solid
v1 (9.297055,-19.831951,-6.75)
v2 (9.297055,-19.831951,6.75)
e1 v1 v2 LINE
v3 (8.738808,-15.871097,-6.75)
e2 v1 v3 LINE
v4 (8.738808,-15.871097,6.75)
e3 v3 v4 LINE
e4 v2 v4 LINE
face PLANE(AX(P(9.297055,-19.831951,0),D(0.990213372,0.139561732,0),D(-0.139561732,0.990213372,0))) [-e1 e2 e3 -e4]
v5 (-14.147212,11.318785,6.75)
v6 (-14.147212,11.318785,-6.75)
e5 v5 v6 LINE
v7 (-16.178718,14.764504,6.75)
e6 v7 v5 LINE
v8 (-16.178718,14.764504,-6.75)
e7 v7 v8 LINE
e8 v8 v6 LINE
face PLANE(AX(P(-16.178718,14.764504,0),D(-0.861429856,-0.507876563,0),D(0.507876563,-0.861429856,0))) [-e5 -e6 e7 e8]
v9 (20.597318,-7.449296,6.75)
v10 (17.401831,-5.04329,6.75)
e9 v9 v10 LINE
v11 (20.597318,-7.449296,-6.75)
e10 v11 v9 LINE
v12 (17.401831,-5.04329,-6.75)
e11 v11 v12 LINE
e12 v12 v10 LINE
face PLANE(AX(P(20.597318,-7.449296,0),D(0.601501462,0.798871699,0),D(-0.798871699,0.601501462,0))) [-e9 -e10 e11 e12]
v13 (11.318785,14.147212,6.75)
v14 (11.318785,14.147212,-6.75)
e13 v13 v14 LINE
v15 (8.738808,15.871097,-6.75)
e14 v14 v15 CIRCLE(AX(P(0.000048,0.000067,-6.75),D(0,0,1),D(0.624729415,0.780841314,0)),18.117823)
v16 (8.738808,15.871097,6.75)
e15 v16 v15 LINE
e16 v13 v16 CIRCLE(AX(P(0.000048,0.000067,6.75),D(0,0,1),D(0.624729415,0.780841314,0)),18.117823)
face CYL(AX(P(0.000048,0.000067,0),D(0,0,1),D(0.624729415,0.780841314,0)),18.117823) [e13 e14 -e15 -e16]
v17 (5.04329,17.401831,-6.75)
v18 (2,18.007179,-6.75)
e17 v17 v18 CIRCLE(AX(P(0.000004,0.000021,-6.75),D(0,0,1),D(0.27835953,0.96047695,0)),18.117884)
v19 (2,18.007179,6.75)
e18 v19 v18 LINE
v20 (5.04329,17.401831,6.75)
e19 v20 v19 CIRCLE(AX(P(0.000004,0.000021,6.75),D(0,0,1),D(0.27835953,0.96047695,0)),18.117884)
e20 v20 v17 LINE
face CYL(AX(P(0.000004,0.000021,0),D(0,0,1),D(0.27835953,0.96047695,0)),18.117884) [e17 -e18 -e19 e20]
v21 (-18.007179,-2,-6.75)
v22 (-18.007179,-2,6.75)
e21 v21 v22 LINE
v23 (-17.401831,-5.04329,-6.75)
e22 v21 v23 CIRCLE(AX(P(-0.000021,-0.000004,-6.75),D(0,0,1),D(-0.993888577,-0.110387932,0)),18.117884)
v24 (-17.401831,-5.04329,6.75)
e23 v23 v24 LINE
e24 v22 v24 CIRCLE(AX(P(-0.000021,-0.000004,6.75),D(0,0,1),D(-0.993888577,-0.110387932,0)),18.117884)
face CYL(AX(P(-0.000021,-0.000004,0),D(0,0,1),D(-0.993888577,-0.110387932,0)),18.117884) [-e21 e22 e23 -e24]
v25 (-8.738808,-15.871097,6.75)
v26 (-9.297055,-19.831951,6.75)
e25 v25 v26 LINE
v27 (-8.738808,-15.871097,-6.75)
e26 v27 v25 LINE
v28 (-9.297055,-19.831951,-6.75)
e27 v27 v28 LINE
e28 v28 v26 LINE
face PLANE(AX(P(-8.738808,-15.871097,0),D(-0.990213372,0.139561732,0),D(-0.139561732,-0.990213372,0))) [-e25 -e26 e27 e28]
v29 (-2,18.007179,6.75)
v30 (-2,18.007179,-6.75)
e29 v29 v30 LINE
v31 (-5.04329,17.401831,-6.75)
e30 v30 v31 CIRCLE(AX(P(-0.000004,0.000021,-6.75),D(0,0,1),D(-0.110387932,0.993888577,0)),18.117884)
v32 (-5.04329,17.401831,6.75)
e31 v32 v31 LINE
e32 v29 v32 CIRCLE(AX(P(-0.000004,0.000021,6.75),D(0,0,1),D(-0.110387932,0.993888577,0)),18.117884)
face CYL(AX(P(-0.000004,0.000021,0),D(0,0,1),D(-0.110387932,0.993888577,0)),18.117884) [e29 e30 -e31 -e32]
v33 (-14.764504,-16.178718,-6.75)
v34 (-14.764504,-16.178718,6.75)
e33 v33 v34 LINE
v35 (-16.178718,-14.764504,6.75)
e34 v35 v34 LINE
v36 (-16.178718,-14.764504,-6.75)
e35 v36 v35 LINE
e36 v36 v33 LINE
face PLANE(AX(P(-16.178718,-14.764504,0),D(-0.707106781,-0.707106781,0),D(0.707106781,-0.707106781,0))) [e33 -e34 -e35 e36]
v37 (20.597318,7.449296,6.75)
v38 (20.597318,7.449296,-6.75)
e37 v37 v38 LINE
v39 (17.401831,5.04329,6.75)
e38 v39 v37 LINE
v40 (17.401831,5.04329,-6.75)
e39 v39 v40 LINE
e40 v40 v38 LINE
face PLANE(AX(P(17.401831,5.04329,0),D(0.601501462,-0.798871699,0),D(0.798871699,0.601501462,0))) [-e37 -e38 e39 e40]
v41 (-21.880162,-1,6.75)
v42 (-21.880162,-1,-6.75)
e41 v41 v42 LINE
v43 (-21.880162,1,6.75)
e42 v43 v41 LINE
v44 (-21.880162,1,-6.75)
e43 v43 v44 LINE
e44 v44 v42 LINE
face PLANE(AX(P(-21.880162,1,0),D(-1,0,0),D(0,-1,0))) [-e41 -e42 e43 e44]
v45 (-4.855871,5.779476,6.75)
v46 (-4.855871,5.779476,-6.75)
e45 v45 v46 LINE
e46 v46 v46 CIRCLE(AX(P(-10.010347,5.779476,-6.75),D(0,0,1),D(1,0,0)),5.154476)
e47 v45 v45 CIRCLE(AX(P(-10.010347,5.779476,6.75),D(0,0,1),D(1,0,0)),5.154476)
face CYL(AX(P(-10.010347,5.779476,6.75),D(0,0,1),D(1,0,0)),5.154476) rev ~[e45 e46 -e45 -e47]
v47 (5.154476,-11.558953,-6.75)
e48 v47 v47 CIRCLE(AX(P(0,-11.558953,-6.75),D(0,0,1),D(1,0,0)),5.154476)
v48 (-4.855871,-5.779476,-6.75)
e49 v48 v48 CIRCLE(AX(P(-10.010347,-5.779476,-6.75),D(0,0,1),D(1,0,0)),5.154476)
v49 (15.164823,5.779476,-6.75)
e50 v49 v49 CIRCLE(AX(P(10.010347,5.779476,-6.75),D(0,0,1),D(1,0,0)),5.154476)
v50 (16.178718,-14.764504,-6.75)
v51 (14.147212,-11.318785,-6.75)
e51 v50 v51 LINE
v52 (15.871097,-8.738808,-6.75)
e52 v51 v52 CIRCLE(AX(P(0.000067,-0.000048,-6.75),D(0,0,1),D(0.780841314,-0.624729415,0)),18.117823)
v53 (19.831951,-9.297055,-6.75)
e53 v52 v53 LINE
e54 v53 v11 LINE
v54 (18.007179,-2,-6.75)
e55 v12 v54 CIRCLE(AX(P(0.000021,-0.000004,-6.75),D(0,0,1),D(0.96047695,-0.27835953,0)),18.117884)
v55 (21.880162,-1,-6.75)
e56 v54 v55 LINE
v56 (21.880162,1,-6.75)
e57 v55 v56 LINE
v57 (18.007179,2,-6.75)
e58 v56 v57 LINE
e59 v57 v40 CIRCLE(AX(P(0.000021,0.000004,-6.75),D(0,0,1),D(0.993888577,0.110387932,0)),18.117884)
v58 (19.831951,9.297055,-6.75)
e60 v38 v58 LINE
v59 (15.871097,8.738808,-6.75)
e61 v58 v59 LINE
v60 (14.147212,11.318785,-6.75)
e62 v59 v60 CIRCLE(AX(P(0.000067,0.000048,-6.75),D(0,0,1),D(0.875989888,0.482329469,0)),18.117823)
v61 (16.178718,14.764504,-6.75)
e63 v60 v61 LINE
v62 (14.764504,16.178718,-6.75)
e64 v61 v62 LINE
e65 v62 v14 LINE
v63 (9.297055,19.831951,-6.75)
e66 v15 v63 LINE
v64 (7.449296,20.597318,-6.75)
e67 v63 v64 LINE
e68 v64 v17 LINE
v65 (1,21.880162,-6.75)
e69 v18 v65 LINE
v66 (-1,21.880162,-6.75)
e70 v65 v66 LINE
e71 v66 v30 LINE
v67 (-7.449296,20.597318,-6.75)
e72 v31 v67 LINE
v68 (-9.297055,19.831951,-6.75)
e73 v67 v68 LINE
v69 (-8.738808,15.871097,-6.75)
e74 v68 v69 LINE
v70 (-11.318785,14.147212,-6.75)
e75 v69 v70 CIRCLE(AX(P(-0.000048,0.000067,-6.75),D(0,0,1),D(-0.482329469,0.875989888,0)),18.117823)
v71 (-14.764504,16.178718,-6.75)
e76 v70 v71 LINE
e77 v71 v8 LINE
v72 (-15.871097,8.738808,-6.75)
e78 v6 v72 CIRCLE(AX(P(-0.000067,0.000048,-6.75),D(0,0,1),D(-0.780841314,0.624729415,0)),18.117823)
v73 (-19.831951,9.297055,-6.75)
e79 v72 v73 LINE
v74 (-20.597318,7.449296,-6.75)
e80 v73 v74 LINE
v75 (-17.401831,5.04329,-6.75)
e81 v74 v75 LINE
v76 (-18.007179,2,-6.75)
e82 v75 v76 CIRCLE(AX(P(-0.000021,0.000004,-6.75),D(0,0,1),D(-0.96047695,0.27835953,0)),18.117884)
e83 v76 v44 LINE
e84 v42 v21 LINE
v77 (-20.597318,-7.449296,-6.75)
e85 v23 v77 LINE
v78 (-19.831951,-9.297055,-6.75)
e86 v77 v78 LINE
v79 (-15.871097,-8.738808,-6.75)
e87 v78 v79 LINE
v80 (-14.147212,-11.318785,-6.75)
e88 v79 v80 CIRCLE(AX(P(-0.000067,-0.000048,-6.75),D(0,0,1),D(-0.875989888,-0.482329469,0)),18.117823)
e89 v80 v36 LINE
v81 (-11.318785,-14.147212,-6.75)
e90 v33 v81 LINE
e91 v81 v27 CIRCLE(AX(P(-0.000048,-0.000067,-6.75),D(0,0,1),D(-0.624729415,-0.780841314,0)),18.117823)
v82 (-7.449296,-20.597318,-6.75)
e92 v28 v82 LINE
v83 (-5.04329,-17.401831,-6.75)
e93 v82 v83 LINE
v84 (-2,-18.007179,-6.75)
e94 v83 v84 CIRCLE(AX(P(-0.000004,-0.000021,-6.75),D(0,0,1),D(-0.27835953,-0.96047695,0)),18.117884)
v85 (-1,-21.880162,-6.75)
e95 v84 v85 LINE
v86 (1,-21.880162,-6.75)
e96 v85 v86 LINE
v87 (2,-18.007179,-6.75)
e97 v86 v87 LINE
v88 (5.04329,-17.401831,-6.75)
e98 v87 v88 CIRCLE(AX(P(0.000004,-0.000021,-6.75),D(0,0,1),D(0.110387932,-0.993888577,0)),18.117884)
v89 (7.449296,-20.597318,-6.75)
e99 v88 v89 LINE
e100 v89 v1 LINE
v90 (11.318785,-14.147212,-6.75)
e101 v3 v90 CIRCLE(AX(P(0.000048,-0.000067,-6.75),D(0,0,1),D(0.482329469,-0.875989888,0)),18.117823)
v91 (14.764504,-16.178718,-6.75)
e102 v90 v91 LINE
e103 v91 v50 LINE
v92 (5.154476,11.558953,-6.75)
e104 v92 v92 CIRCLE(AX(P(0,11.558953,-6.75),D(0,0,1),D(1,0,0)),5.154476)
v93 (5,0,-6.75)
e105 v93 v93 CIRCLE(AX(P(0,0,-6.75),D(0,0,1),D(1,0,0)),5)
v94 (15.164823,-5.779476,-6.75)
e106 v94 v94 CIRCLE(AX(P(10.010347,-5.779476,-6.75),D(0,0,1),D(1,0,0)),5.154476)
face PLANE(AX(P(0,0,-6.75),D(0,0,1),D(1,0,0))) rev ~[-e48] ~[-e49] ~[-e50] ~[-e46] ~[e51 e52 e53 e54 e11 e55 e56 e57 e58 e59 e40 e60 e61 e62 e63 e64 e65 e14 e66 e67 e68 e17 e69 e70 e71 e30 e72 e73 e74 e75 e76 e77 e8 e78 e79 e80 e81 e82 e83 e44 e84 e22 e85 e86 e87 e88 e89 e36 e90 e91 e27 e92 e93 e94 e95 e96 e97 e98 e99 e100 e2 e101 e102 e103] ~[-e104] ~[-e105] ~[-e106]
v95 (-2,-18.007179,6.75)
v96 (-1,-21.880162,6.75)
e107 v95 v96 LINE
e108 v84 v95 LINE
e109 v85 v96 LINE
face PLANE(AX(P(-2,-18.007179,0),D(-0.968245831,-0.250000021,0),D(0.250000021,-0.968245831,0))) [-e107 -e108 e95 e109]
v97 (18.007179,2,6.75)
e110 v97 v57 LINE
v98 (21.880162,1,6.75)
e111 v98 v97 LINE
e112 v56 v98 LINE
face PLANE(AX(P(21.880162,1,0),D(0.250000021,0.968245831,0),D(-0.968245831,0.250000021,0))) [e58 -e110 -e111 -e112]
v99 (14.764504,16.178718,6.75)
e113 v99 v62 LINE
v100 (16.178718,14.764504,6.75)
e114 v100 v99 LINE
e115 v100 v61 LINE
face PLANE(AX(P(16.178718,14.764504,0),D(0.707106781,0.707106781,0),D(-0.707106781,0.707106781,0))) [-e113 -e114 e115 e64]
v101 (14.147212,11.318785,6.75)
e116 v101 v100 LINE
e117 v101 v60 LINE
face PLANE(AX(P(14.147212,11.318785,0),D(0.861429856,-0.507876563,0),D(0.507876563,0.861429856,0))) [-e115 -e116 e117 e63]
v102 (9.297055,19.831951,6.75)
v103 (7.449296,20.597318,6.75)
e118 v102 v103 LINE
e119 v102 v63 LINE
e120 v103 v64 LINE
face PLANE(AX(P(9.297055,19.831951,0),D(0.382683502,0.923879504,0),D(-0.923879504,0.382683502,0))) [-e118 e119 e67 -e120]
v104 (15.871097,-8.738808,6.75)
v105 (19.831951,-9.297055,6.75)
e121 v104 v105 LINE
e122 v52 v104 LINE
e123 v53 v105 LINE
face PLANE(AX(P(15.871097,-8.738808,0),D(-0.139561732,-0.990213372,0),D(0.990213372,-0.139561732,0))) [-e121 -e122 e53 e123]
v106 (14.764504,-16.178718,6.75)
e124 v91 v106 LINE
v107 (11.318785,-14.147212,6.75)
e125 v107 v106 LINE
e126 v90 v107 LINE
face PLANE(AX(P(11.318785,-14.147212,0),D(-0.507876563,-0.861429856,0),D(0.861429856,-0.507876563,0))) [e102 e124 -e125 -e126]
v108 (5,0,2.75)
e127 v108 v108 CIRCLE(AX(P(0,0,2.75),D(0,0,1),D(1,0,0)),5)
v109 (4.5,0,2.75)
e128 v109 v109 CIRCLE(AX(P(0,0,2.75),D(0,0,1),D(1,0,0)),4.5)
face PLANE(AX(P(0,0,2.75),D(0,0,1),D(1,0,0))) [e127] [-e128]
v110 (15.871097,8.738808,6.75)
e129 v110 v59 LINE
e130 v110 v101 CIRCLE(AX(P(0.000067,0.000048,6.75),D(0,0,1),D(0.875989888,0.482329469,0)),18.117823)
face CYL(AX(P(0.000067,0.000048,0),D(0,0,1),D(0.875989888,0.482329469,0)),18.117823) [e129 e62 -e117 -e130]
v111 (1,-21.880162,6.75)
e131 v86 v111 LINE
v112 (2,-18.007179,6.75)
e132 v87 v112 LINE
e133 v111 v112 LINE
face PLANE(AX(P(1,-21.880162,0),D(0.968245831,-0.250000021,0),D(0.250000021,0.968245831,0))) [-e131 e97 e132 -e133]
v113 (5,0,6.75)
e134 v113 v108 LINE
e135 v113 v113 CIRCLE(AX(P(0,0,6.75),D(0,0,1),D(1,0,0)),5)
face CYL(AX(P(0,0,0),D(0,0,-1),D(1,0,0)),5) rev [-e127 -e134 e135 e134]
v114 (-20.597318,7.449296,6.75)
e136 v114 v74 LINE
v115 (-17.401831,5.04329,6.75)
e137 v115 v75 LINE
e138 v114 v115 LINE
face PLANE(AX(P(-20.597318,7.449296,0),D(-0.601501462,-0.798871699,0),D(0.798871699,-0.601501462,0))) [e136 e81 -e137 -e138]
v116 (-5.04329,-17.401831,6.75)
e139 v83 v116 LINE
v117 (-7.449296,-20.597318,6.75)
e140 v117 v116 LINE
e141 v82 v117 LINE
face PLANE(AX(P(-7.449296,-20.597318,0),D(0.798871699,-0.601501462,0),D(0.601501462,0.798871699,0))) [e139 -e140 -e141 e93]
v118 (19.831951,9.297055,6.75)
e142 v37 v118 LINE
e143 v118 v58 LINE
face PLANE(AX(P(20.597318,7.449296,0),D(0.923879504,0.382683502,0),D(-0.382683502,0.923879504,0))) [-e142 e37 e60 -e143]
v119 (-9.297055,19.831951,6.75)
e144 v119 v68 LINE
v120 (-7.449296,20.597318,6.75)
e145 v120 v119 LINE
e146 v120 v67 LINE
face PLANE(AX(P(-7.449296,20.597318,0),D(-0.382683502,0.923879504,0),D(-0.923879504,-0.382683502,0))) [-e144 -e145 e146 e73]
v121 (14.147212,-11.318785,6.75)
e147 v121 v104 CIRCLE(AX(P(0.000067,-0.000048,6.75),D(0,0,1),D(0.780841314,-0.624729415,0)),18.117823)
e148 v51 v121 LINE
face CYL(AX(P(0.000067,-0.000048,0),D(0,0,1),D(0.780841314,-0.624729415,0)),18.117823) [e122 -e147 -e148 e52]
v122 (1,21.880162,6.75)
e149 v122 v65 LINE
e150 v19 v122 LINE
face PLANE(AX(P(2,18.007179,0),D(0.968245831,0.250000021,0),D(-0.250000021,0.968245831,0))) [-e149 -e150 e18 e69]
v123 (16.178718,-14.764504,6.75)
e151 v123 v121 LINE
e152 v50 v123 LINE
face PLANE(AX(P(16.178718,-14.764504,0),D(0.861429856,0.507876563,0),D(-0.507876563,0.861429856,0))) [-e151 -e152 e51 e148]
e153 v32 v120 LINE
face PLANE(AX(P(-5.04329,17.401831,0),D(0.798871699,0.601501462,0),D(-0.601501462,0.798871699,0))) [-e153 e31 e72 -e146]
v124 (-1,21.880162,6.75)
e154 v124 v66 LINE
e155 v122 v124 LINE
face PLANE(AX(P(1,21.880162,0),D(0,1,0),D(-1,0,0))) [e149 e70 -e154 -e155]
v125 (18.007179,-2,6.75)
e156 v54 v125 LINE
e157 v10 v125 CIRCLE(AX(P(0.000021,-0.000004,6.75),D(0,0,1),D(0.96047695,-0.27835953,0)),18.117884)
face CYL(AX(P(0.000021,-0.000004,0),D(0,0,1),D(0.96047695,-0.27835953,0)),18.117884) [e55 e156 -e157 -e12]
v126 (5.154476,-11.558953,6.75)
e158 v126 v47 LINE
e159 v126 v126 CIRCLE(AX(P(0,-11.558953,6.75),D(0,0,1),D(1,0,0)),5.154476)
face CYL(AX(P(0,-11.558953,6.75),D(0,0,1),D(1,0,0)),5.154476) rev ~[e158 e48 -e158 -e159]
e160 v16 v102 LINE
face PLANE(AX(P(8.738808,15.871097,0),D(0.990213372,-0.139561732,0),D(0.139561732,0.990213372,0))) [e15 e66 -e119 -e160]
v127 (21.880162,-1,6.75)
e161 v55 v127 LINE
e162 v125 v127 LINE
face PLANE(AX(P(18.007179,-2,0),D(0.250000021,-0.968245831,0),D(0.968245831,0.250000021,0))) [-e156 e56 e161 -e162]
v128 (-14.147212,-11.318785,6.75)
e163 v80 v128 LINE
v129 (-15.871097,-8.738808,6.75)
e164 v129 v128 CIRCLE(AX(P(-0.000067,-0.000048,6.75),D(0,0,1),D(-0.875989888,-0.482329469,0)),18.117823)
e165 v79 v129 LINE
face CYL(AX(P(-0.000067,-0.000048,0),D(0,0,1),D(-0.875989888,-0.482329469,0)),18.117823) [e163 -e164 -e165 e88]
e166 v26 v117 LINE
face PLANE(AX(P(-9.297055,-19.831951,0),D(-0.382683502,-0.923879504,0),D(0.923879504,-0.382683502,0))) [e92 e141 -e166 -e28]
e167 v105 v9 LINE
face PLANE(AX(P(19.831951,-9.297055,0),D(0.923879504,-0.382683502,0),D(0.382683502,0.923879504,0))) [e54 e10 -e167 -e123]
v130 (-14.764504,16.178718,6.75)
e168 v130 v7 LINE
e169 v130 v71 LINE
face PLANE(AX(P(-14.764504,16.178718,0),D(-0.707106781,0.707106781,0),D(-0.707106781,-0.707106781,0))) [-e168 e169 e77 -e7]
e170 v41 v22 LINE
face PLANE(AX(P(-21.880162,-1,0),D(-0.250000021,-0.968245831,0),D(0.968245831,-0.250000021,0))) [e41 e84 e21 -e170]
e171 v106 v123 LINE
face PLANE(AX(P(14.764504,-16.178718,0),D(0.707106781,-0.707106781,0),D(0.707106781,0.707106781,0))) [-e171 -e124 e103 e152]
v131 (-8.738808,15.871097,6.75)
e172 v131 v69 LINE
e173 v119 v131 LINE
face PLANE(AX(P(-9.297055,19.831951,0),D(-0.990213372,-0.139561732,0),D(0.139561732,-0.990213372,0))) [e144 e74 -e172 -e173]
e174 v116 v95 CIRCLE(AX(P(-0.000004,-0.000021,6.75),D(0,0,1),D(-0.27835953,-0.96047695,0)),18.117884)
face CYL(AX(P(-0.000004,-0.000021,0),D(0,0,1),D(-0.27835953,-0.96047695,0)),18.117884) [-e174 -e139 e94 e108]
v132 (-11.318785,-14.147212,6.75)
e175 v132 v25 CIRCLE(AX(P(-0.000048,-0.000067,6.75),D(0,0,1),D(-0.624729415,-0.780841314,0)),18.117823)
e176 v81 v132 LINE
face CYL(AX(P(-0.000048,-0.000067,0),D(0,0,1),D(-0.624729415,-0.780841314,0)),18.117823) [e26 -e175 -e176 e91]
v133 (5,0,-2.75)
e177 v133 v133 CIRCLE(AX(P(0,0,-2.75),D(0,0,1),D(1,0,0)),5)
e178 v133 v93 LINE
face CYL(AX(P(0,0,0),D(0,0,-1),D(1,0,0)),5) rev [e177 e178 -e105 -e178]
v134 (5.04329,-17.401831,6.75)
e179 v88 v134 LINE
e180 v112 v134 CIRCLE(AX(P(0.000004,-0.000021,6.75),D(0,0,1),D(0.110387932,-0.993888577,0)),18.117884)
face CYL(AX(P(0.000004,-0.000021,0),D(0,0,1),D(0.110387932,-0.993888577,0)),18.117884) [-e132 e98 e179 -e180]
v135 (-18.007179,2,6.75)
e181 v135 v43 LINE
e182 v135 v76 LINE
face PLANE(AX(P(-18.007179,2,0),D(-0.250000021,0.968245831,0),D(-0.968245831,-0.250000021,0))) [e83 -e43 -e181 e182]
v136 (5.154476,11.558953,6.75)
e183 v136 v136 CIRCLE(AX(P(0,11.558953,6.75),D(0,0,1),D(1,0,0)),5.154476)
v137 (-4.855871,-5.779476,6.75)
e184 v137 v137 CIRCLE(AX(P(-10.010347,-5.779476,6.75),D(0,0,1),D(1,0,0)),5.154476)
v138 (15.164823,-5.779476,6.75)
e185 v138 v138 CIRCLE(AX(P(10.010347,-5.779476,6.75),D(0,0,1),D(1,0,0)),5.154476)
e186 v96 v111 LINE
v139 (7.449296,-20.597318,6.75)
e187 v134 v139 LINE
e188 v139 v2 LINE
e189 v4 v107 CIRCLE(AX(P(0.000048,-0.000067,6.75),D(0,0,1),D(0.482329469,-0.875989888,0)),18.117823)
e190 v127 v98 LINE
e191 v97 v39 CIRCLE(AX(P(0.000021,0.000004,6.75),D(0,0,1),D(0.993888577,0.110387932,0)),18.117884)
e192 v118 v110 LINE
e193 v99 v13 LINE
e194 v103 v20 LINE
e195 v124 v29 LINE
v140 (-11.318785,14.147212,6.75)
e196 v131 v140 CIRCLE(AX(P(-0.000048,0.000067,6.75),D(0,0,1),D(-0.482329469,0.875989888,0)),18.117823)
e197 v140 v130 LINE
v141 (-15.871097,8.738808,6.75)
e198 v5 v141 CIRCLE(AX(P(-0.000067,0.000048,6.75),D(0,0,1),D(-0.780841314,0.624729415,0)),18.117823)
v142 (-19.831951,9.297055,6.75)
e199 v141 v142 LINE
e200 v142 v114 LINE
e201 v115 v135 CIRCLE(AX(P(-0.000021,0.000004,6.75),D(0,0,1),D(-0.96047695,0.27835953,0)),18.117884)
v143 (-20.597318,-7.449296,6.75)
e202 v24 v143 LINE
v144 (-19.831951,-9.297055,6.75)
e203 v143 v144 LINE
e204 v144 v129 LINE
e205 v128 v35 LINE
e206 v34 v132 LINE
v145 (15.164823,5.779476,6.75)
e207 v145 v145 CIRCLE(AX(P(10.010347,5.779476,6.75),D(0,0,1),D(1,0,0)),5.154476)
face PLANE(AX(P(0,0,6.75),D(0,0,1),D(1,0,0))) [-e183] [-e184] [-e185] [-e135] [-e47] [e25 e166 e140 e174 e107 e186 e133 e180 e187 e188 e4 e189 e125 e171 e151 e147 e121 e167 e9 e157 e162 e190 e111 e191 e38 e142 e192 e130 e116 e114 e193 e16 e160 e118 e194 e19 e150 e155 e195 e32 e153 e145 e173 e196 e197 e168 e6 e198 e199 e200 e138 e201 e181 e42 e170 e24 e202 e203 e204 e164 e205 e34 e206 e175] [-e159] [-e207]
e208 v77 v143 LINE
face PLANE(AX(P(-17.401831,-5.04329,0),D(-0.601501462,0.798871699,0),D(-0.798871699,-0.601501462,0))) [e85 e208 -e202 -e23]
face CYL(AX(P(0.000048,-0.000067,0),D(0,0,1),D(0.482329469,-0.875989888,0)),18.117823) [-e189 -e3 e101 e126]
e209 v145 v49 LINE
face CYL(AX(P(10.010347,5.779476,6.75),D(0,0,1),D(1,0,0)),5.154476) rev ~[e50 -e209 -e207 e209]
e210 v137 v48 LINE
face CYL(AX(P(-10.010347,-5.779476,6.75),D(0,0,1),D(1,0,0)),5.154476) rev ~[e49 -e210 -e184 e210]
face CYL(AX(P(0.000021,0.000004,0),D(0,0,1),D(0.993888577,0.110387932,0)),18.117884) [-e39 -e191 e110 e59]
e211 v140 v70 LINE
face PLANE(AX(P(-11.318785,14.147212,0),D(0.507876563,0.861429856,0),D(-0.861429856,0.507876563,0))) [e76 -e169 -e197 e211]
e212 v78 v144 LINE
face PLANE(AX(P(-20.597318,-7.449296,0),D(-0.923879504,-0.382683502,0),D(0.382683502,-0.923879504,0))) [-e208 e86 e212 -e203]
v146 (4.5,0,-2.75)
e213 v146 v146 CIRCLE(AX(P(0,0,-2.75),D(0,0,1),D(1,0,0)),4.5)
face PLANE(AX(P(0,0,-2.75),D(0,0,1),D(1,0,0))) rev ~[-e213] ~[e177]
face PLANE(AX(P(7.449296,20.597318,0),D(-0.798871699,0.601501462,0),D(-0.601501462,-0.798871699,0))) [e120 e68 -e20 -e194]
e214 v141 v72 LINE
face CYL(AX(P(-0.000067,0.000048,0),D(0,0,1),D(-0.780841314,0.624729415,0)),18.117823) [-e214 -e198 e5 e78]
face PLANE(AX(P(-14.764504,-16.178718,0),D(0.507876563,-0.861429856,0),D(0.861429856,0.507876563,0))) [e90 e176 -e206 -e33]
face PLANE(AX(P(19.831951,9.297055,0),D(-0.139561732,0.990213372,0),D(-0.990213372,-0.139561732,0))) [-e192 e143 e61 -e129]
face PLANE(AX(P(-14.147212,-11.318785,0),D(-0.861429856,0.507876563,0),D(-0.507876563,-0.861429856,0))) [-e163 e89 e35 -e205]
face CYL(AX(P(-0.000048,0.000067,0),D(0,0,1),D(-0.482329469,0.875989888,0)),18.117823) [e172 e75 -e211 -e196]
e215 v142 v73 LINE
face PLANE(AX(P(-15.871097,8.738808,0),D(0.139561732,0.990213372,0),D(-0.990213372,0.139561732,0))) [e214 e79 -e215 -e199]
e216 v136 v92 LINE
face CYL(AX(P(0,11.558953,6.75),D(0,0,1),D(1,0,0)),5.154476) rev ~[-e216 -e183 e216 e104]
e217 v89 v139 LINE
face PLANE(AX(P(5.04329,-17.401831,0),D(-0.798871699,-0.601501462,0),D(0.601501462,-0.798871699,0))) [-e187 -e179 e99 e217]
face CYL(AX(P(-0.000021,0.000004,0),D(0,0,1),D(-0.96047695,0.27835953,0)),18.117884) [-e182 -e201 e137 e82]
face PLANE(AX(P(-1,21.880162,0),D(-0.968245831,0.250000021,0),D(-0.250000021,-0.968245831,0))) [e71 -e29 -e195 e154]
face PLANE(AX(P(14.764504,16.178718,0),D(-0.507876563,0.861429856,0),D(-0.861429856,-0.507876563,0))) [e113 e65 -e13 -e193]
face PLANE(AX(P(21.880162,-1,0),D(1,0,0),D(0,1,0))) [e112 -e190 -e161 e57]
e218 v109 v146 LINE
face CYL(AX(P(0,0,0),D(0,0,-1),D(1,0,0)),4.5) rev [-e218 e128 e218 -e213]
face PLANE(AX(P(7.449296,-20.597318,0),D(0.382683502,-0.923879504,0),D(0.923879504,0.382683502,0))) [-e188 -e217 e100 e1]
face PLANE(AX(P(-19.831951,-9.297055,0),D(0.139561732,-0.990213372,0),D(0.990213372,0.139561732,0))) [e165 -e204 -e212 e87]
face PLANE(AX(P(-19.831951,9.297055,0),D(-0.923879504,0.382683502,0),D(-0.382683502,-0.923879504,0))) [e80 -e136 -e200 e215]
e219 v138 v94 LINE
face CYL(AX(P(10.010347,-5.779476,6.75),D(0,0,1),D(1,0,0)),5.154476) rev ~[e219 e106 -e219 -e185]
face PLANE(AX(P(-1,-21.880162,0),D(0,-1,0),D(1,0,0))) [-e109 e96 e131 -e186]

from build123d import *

# Parameters (mm, degrees)
F0_R     = 5
F1_DEPTH = 6.75
F0_R_2   = 4.5
F2_DEPTH = 2.75
F3_R     = 5.154476
F4_DEPTH = 13.501


with BuildPart() as f1:
    # F0 (on Top) → F1 (new body, symmetric)
    with BuildSketch(Plane.XY):
        with BuildLine():
            Line((-21.880162, -1), (-18.007179, -2))
            ThreePointArc((-18.007179, -2), (-17.769775, -3.534628), (-17.401831, -5.04329))
            Line((-17.401831, -5.04329), (-20.597318, -7.449296))
            Line((-20.597318, -7.449296), (-19.831951, -9.297055))
            Line((-19.831951, -9.297055), (-15.871097, -8.738808))
            ThreePointArc((-15.871097, -8.738808), (-15.064488, -10.065769), (-14.147212, -11.318785))
            Line((-14.147212, -11.318785), (-16.178718, -14.764504))
            Line((-16.178718, -14.764504), (-14.764504, -16.178718))
            Line((-14.764504, -16.178718), (-11.318785, -14.147212))
            ThreePointArc((-11.318785, -14.147212), (-10.065769, -15.064488), (-8.738808, -15.871097))
            Line((-8.738808, -15.871097), (-9.297055, -19.831951))
            Line((-9.297055, -19.831951), (-7.449296, -20.597318))
            Line((-7.449296, -20.597318), (-5.04329, -17.401831))
            ThreePointArc((-5.04329, -17.401831), (-3.534628, -17.769775), (-2, -18.007179))
            Line((-2, -18.007179), (-1, -21.880162))
            Line((-1, -21.880162), (1, -21.880162))
            Line((1, -21.880162), (2, -18.007179))
            ThreePointArc((2, -18.007179), (3.534628, -17.769775), (5.04329, -17.401831))
            Line((5.04329, -17.401831), (7.449296, -20.597318))
            Line((7.449296, -20.597318), (9.297055, -19.831951))
            Line((9.297055, -19.831951), (8.738808, -15.871097))
            ThreePointArc((8.738808, -15.871097), (10.065769, -15.064488), (11.318785, -14.147212))
            Line((11.318785, -14.147212), (14.764504, -16.178718))
            Line((14.764504, -16.178718), (16.178718, -14.764504))
            Line((16.178718, -14.764504), (14.147212, -11.318785))
            ThreePointArc((14.147212, -11.318785), (15.064488, -10.065769), (15.871097, -8.738808))
            Line((15.871097, -8.738808), (19.831951, -9.297055))
            Line((19.831951, -9.297055), (20.597318, -7.449296))
            Line((20.597318, -7.449296), (17.401831, -5.04329))
            ThreePointArc((17.401831, -5.04329), (17.769775, -3.534628), (18.007179, -2))
            Line((18.007179, -2), (21.880162, -1))
            Line((21.880162, -1), (21.880162, 1))
            Line((21.880162, 1), (18.007179, 2))
            ThreePointArc((18.007179, 2), (17.769775, 3.534628), (17.401831, 5.04329))
            Line((17.401831, 5.04329), (20.597318, 7.449296))
            Line((20.597318, 7.449296), (19.831951, 9.297055))
            Line((19.831951, 9.297055), (15.871097, 8.738808))
            ThreePointArc((15.871097, 8.738808), (15.064488, 10.065769), (14.147212, 11.318785))
            Line((14.147212, 11.318785), (16.178718, 14.764504))
            Line((16.178718, 14.764504), (14.764504, 16.178718))
            Line((14.764504, 16.178718), (11.318785, 14.147212))
            ThreePointArc((11.318785, 14.147212), (10.065769, 15.064488), (8.738808, 15.871097))
            Line((8.738808, 15.871097), (9.297055, 19.831951))
            Line((9.297055, 19.831951), (7.449296, 20.597318))
            Line((7.449296, 20.597318), (5.04329, 17.401831))
            ThreePointArc((5.04329, 17.401831), (3.534628, 17.769775), (2, 18.007179))
            Line((2, 18.007179), (1, 21.880162))
            Line((1, 21.880162), (-1, 21.880162))
            Line((-1, 21.880162), (-2, 18.007179))
            ThreePointArc((-2, 18.007179), (-3.534628, 17.769775), (-5.04329, 17.401831))
            Line((-5.04329, 17.401831), (-7.449296, 20.597318))
            Line((-7.449296, 20.597318), (-9.297055, 19.831951))
            Line((-9.297055, 19.831951), (-8.738808, 15.871097))
            ThreePointArc((-8.738808, 15.871097), (-10.065769, 15.064488), (-11.318785, 14.147212))
            Line((-11.318785, 14.147212), (-14.764504, 16.178718))
            Line((-14.764504, 16.178718), (-16.178718, 14.764504))
            Line((-16.178718, 14.764504), (-14.147212, 11.318785))
            ThreePointArc((-14.147212, 11.318785), (-15.064488, 10.065769), (-15.871097, 8.738808))
            Line((-15.871097, 8.738808), (-19.831951, 9.297055))
            Line((-19.831951, 9.297055), (-20.597318, 7.449296))
            Line((-20.597318, 7.449296), (-17.401831, 5.04329))
            ThreePointArc((-17.401831, 5.04329), (-17.769775, 3.534628), (-18.007179, 2))
            Line((-18.007179, 2), (-21.880162, 1))
            Line((-21.880162, 1), (-21.880162, -1))
        make_face()
        Circle(F0_R, mode=Mode.SUBTRACT)
    extrude(amount=F1_DEPTH, both=True)

    # F0 (on Top) → F2 (join, symmetric)
    with BuildSketch(Plane.XY):
        Circle(F0_R)
        Circle(F0_R_2, mode=Mode.SUBTRACT)
    extrude(amount=F2_DEPTH, both=True)

    # F3 (on face) → F4 (cut, through all)
    with BuildSketch(Plane.XY.offset(6.75)):
        with Locations((0, 11.558953)):
            Circle(F3_R)
        with Locations((-10.010347, 5.779476)):
            Circle(F3_R)
        with Locations((-10.010347, -5.779476)):
            Circle(F3_R)
        with Locations((0, -11.558953)):
            Circle(F3_R)
        with Locations((10.010347, -5.779476)):
            Circle(F3_R)
        with Locations((10.010347, 5.779476)):
            Circle(F3_R)
    extrude(amount=-F4_DEPTH, mode=Mode.SUBTRACT)


solid = f1.part
